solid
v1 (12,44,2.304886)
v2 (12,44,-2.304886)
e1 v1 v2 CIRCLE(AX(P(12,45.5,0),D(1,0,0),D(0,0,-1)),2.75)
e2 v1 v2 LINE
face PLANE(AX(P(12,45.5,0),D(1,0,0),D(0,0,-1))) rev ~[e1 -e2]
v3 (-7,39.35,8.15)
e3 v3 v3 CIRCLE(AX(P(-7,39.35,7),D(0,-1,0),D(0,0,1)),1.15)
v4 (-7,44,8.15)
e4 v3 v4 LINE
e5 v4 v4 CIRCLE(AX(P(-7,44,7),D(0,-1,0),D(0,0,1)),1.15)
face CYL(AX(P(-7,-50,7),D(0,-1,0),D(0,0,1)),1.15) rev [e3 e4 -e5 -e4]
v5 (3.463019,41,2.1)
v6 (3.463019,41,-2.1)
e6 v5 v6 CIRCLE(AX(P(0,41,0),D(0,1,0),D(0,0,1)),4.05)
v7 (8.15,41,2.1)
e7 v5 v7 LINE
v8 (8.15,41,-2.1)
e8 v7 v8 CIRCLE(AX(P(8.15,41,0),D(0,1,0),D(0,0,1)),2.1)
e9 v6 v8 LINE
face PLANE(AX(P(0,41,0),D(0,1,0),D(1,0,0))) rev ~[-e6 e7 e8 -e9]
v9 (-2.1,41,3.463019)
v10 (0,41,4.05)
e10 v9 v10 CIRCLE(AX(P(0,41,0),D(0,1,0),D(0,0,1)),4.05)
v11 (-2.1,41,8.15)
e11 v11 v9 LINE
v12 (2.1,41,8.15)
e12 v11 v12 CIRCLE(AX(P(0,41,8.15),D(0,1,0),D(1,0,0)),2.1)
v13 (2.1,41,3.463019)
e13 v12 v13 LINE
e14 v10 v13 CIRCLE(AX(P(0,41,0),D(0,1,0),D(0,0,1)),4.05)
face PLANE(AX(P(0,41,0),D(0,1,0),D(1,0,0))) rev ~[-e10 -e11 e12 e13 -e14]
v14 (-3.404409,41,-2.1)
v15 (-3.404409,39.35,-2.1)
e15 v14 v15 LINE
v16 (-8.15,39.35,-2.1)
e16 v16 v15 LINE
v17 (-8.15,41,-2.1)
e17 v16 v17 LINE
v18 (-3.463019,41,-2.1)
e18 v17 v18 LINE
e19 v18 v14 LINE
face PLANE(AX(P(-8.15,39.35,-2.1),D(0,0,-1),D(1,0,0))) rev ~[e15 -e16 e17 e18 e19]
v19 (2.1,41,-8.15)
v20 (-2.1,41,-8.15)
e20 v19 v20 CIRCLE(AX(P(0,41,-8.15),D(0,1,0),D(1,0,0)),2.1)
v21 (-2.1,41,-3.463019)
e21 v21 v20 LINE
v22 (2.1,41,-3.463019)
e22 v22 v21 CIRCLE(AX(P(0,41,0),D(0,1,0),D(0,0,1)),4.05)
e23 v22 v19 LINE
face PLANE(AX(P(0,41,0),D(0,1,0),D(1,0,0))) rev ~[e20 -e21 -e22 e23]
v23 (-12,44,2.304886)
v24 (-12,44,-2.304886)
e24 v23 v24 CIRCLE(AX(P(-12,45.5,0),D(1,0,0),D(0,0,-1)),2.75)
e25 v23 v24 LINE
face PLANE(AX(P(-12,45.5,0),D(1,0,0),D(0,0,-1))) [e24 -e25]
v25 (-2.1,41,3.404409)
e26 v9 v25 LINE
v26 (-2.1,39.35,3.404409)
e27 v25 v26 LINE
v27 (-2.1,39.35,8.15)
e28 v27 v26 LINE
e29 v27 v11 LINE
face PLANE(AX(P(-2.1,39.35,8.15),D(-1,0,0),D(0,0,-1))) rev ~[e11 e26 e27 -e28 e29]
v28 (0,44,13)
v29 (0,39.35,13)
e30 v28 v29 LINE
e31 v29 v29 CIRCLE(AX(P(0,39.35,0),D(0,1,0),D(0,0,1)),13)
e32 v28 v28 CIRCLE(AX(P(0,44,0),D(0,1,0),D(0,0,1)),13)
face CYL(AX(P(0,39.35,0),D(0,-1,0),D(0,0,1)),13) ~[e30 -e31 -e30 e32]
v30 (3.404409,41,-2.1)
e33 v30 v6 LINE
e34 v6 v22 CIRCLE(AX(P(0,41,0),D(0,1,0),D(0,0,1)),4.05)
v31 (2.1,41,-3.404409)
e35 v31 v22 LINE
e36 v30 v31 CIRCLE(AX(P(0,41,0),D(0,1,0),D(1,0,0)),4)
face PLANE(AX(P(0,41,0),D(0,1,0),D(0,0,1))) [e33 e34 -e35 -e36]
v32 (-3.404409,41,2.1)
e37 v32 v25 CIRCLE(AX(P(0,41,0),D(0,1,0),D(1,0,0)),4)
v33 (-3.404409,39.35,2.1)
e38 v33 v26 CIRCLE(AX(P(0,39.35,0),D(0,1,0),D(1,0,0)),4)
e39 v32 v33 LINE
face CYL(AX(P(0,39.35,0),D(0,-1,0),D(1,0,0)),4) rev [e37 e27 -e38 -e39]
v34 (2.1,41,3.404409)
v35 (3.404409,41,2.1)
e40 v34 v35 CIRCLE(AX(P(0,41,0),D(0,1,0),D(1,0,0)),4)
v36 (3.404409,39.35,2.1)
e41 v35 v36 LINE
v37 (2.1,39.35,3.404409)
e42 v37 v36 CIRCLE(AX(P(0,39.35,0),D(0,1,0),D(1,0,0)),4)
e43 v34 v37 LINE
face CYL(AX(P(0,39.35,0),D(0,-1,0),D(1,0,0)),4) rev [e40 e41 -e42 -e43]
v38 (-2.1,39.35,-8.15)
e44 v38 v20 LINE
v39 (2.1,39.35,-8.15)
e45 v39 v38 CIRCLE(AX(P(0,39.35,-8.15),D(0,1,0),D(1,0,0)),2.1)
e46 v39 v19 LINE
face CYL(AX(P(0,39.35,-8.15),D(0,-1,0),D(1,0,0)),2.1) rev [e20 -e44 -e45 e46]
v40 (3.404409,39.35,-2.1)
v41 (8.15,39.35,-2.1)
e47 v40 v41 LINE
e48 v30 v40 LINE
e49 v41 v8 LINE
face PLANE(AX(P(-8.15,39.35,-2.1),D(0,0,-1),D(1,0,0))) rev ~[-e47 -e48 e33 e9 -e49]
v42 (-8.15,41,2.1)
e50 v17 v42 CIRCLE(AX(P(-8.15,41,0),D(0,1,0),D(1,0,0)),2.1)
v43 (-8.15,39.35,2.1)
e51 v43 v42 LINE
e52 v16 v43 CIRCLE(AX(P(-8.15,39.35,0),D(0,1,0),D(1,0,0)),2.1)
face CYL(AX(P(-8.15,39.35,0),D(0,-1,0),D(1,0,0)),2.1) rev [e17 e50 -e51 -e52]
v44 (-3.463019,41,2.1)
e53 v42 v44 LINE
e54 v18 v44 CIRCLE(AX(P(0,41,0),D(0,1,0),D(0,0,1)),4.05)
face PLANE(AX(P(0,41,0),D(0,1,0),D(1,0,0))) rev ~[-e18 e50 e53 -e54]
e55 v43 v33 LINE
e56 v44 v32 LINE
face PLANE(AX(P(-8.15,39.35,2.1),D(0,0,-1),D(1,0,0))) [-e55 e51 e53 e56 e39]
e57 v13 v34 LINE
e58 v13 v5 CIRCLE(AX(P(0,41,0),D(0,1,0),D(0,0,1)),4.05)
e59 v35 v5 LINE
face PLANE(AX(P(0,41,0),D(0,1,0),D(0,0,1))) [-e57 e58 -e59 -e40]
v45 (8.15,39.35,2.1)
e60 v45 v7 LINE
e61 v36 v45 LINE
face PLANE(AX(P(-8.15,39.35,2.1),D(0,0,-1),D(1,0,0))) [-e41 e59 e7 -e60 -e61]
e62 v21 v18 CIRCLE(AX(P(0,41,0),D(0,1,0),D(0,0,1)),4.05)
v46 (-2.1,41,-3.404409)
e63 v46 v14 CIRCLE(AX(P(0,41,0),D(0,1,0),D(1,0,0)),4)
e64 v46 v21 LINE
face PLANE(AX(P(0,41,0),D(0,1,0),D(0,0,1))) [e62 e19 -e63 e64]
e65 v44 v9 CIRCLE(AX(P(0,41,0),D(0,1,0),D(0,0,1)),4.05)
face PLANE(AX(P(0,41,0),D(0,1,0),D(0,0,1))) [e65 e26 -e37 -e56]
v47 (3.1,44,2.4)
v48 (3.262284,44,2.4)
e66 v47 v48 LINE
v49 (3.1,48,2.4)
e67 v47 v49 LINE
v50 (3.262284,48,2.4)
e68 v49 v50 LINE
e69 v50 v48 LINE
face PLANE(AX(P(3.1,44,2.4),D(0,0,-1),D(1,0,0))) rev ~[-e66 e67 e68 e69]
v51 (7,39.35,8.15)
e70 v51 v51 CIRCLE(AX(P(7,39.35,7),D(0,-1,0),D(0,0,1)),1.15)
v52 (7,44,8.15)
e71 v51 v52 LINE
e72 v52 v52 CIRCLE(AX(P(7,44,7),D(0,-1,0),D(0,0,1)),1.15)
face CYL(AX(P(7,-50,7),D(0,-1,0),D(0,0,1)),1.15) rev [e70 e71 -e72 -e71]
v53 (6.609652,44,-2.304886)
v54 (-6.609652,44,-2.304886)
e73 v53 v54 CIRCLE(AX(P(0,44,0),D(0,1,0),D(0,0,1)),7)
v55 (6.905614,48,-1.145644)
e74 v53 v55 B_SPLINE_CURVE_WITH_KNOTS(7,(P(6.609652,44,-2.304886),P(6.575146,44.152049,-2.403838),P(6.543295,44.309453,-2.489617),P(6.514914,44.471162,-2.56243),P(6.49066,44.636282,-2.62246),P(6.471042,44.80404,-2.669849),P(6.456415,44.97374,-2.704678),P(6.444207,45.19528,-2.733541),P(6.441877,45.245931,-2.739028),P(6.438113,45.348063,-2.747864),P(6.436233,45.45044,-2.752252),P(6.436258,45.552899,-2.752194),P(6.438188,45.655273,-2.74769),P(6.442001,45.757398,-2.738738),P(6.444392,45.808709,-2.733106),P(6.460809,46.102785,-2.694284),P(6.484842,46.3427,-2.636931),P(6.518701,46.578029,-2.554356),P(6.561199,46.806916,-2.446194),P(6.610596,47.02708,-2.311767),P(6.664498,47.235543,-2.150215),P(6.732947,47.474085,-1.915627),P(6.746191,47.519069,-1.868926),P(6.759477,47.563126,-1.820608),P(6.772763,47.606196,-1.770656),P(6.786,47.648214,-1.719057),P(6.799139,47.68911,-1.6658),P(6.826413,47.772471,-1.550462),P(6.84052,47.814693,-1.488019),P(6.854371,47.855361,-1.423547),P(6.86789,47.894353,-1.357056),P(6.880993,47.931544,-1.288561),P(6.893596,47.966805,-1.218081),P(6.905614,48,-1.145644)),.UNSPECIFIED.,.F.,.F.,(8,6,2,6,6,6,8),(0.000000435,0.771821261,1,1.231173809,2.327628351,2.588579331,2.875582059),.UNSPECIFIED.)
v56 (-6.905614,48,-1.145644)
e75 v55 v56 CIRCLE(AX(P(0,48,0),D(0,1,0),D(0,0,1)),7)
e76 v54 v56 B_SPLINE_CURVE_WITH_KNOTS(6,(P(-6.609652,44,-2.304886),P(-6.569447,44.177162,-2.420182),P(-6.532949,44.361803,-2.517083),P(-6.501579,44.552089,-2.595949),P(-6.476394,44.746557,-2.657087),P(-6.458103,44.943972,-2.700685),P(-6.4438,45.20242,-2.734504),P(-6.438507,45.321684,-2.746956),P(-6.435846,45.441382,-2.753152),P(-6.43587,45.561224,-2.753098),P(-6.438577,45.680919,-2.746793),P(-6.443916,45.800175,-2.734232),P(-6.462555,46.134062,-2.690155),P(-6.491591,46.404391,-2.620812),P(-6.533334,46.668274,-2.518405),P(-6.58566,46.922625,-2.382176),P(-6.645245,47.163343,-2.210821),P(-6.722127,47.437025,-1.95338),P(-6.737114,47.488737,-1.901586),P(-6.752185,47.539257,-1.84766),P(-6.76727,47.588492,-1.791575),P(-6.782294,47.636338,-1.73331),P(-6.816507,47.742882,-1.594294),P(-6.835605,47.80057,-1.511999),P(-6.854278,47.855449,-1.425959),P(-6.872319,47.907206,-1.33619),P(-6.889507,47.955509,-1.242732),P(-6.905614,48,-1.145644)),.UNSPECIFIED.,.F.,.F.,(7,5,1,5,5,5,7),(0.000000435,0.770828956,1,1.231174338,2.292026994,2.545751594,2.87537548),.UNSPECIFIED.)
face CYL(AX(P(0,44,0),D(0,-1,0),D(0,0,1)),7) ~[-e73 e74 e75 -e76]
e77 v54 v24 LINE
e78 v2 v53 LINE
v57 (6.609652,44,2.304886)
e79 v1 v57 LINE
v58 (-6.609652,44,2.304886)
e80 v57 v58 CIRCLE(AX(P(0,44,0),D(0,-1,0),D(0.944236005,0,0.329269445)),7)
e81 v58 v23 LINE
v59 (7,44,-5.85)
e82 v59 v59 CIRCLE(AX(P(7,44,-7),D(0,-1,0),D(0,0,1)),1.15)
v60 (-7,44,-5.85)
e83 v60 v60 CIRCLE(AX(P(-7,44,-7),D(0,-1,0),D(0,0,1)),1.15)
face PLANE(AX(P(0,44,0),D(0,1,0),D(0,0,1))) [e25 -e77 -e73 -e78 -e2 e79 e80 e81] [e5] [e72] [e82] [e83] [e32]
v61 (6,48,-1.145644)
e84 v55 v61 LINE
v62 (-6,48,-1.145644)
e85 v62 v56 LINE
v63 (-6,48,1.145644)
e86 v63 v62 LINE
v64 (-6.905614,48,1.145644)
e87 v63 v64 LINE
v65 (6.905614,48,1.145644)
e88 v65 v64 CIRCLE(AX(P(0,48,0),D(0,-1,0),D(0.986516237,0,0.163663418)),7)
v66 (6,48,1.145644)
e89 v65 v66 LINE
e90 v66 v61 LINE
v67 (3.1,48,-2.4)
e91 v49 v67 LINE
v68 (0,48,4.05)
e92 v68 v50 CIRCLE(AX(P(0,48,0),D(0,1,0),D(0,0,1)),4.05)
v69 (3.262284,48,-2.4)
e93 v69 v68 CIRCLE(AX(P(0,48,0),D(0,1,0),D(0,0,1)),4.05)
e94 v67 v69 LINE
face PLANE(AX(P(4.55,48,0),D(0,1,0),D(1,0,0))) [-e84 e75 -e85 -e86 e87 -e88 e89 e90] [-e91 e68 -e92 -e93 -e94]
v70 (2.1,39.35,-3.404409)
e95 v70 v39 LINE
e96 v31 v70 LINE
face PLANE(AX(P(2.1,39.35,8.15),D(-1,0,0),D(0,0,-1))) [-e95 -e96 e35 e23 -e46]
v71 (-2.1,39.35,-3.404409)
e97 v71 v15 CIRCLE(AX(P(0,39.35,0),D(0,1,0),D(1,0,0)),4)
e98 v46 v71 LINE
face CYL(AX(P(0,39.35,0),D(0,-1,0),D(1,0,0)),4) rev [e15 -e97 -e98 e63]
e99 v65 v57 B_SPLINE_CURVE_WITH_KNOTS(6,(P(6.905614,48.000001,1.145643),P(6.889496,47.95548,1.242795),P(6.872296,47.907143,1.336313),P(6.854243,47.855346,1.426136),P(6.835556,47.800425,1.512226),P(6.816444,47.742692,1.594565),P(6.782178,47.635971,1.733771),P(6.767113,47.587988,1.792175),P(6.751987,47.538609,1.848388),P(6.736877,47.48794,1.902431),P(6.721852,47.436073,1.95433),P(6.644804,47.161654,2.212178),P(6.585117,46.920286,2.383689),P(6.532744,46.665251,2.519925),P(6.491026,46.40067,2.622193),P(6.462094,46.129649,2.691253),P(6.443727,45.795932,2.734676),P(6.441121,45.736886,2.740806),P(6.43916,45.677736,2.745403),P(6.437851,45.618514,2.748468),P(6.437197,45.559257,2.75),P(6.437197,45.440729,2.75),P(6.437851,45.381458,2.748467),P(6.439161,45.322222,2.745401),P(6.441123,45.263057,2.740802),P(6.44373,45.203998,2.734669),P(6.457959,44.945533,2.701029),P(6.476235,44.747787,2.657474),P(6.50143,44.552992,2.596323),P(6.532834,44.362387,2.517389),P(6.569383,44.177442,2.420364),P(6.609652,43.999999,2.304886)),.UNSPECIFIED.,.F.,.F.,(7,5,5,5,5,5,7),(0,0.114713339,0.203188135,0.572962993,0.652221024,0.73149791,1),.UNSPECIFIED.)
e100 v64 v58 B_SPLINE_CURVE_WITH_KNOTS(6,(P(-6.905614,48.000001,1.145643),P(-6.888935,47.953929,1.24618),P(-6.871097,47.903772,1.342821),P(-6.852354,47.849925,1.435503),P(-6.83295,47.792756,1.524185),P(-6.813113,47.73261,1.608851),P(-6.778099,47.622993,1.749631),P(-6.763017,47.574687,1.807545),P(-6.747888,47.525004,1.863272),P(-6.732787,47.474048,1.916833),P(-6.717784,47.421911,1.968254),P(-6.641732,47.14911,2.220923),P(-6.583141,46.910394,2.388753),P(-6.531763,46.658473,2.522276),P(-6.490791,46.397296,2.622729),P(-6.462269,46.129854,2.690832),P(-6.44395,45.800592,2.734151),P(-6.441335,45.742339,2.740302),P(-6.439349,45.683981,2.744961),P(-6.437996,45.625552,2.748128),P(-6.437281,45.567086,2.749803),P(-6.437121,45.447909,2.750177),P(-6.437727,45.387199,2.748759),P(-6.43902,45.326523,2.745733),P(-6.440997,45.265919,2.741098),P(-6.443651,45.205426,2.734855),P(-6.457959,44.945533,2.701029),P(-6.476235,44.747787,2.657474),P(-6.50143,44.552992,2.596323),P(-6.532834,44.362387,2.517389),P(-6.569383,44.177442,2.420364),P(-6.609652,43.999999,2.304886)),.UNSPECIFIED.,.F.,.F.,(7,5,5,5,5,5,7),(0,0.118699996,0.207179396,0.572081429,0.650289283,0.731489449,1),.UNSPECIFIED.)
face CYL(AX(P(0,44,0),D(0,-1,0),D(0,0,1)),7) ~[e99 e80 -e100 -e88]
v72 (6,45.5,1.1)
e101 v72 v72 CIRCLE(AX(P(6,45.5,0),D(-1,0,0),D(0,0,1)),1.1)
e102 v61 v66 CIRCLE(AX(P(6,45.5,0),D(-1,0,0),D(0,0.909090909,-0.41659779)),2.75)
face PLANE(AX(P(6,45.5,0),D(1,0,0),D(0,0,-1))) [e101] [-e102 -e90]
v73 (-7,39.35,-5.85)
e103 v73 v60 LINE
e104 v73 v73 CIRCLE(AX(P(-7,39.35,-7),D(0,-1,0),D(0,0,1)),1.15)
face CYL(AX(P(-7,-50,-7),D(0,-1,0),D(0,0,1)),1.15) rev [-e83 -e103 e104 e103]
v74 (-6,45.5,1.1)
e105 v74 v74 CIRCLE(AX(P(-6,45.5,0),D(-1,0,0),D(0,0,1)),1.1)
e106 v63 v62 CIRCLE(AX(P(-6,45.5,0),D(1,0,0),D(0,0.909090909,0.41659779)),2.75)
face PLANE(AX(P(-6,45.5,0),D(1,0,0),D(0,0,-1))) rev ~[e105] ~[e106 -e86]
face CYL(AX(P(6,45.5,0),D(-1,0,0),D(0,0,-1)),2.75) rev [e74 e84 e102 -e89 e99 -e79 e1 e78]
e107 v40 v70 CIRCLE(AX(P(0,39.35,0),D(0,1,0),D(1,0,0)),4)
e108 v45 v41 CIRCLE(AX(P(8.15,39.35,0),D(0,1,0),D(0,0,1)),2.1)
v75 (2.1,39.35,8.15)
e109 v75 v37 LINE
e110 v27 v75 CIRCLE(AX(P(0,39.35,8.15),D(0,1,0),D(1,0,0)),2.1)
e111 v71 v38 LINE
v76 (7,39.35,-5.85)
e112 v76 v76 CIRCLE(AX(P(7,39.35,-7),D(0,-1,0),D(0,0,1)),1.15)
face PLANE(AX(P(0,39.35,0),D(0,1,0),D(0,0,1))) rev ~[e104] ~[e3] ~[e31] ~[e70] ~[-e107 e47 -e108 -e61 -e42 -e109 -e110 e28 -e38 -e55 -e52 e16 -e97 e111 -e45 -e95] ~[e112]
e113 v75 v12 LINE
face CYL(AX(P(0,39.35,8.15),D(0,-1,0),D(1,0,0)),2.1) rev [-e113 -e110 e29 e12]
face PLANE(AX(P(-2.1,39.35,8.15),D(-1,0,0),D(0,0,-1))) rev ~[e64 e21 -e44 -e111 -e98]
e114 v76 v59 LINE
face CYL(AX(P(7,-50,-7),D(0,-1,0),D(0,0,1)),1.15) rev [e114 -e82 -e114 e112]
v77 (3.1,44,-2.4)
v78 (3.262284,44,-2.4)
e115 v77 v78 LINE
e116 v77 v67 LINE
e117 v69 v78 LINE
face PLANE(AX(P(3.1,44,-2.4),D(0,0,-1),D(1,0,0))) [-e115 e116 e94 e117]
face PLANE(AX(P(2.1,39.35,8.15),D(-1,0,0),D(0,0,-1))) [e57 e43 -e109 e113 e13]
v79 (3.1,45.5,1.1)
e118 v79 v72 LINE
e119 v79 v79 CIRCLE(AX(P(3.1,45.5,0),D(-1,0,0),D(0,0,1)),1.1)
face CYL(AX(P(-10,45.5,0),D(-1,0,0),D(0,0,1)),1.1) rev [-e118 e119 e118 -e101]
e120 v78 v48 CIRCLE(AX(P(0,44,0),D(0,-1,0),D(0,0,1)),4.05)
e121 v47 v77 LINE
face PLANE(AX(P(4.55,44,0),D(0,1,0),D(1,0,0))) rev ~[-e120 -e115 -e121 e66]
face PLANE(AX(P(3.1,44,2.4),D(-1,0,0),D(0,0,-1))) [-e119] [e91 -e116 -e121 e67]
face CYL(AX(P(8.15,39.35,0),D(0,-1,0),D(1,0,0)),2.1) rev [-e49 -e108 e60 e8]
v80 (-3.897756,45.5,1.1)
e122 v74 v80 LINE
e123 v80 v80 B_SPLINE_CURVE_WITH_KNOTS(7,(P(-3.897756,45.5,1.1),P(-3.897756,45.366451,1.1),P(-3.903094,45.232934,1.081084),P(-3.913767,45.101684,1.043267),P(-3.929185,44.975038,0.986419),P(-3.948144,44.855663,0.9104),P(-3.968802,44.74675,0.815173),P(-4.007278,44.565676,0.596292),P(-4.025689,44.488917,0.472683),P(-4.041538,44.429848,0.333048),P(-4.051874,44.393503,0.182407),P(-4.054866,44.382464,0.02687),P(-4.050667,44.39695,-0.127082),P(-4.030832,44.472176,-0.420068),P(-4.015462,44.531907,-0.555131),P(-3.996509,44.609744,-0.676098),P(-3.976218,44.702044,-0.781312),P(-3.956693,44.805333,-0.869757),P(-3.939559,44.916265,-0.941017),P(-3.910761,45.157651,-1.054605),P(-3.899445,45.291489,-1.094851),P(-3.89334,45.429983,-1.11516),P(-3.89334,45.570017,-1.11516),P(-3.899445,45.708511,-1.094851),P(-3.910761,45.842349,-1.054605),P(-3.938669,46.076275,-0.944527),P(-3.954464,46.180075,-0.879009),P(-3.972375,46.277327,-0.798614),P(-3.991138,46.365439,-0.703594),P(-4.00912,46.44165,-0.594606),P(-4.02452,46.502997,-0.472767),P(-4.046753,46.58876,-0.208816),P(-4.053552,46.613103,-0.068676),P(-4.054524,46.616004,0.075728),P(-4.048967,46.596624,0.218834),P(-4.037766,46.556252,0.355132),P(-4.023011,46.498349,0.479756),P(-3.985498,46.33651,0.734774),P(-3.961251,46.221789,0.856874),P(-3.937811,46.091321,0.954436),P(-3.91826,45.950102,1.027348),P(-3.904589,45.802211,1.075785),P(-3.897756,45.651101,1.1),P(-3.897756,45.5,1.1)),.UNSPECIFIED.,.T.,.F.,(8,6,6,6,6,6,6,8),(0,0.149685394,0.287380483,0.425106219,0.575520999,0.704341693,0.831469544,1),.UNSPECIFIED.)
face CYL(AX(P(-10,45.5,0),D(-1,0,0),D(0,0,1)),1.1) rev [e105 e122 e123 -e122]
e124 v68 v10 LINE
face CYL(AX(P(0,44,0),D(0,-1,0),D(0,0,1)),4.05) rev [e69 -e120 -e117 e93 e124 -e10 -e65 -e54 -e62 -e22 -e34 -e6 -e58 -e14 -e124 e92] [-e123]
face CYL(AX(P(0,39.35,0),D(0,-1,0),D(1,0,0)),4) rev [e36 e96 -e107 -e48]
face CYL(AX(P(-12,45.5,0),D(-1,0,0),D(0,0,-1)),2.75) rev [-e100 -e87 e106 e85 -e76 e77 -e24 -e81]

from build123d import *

# Parameters (mm, degrees)
STOCK_HORN_DRIVE_FLANGE_START              = 41
STOCK_HORN_DRIVE_FLANGE_PROFILE_R          = 13
STOCK_HORN_DRIVE_FLANGE_PROFILE_R_2        = 4.05
STOCK_HORN_DRIVE_FLANGE_DEPTH              = 3
D_COUPLING_RING_START                      = 44
D_COUPLING_RING_PROFILE_R                  = 7
D_COUPLING_RING_PROFILE_R_2                = 4.05
D_COUPLING_RING_DEPTH                      = 4
D_KEY_LAND_START                           = 44
D_KEY_LAND_PROFILE_W                       = 2.9
D_KEY_LAND_PROFILE_H                       = 4.8
D_KEY_LAND_DEPTH                           = 4
CAPTURED_HORN_KEY_BOSS_START               = 39.35
CAPTURED_HORN_KEY_BOSS_PROFILE_R           = 13
CAPTURED_HORN_KEY_BOSS_DEPTH               = 1.65
KEY_POCKET_HUB_START                       = 39.35
STOCK_HORN_POCKET_HUB_R                    = 3.55
KEY_POCKET_HUB_DEPTH                       = 1.65
KEY_POCKET_HORIZONTAL_START                = 39.35
STOCK_HORN_POCKET_HORIZONTAL_W             = 16.3
STOCK_HORN_POCKET_HORIZONTAL_H             = 4.2
KEY_POCKET_HORIZONTAL_DEPTH                = 1.65
KEY_POCKET_VERTICAL_START                  = 39.35
STOCK_HORN_POCKET_VERTICAL_W               = 4.2
STOCK_HORN_POCKET_VERTICAL_H               = 16.3
KEY_POCKET_VERTICAL_DEPTH                  = 1.65
KEY_POCKET_ROUNDED_TIPS_START              = 39.35
STOCK_HORN_POCKET_ROUNDED_TIPS_R           = 2.1
KEY_POCKET_ROUNDED_TIPS_DEPTH              = 1.65
UNMODIFIED_HORN_CAPTURE_M2_START           = -50
UNMODIFIED_HORN_CAPTURE_M2_PROFILE_R       = 1.15
UNMODIFIED_HORN_CAPTURE_M2_DEPTH           = 102.400389104
HUB_CLEARANCE_IN_KEY_BOSS_ONLY_START       = 39.35
HORN_CENTER_HUB_CLEARANCE_R                = 4
HUB_CLEARANCE_IN_KEY_BOSS_ONLY_DEPTH       = 1.65
YAW_POSITIVE_RETENTION_CROSSBOLT_START     = -10
YAW_POSITIVE_RETENTION_CROSSBOLT_PROFILE_R = 1.1
YAW_POSITIVE_RETENTION_CROSSBOLT_DEPTH     = 62.400389104
CROSSBOLT_FLAT_SEAT_CUT_12_START           = -12
CROSSBOLT_FLAT_SEAT_12_R                   = 2.75
CROSSBOLT_FLAT_SEAT_CUT_12_DEPTH           = 6
CROSSBOLT_FLAT_SEAT_CUT_6_START            = 6
CROSSBOLT_FLAT_SEAT_6_R                    = 2.75
CROSSBOLT_FLAT_SEAT_CUT_6_DEPTH            = 6


with BuildPart() as part:
    # Stock_horn_drive_flange_profile → Stock_horn_drive_flange (new body)
    with BuildSketch(Plane(origin=(0, 0, 0), x_dir=(1, 0, 0), z_dir=(0, 1, 0)).offset(STOCK_HORN_DRIVE_FLANGE_START)):
        with Locations(Location((0, 0, 0), (0, 0, 270))):
            Circle(STOCK_HORN_DRIVE_FLANGE_PROFILE_R)
        with Locations(Location((0, 0, 0), (0, 0, 270))):
            Circle(STOCK_HORN_DRIVE_FLANGE_PROFILE_R_2, mode=Mode.SUBTRACT)
    extrude(amount=STOCK_HORN_DRIVE_FLANGE_DEPTH)

    # D_coupling_ring_profile → D_coupling_ring (add)
    with BuildSketch(Plane(origin=(0, 0, 0), x_dir=(1, 0, 0), z_dir=(0, 1, 0)).offset(D_COUPLING_RING_START)):
        with Locations(Location((0, 0, 0), (0, 0, 270))):
            Circle(D_COUPLING_RING_PROFILE_R)
        with Locations(Location((0, 0, 0), (0, 0, 270))):
            Circle(D_COUPLING_RING_PROFILE_R_2, mode=Mode.SUBTRACT)
    extrude(amount=D_COUPLING_RING_DEPTH)

    # D_key_land_profile → D_key_land (add)
    with BuildSketch(Plane(origin=(0, 0, 0), x_dir=(1, 0, 0), z_dir=(0, 1, 0)).offset(D_KEY_LAND_START)):
        with Locations((4.55, 0)):
            Rectangle(D_KEY_LAND_PROFILE_W, D_KEY_LAND_PROFILE_H)
    extrude(amount=D_KEY_LAND_DEPTH)

    # Captured_horn_key_boss_profile → Captured_horn_key_boss (add)
    with BuildSketch(Plane(origin=(0, 0, 0), x_dir=(1, 0, 0), z_dir=(0, 1, 0)).offset(CAPTURED_HORN_KEY_BOSS_START)):
        with Locations(Location((0, 0, 0), (0, 0, 270))):
            Circle(CAPTURED_HORN_KEY_BOSS_PROFILE_R)
    extrude(amount=CAPTURED_HORN_KEY_BOSS_DEPTH)

    # Stock_horn_pocket_Hub → Key_pocket_Hub (cut)
    with BuildSketch(Plane(origin=(0, 0, 0), x_dir=(1, 0, 0), z_dir=(0, 1, 0)).offset(KEY_POCKET_HUB_START)):
        with Locations(Location((0, 0, 0), (0, 0, 270))):
            Circle(STOCK_HORN_POCKET_HUB_R)
    extrude(amount=KEY_POCKET_HUB_DEPTH, mode=Mode.SUBTRACT)

    # Stock_horn_pocket_Horizontal → Key_pocket_Horizontal (cut)
    with BuildSketch(Plane(origin=(0, 0, 0), x_dir=(1, 0, 0), z_dir=(0, 1, 0)).offset(KEY_POCKET_HORIZONTAL_START)):
        Rectangle(STOCK_HORN_POCKET_HORIZONTAL_W, STOCK_HORN_POCKET_HORIZONTAL_H)
    extrude(amount=KEY_POCKET_HORIZONTAL_DEPTH, mode=Mode.SUBTRACT)

    # Stock_horn_pocket_Vertical → Key_pocket_Vertical (cut)
    with BuildSketch(Plane(origin=(0, 0, 0), x_dir=(1, 0, 0), z_dir=(0, 1, 0)).offset(KEY_POCKET_VERTICAL_START)):
        Rectangle(STOCK_HORN_POCKET_VERTICAL_W, STOCK_HORN_POCKET_VERTICAL_H)
    extrude(amount=KEY_POCKET_VERTICAL_DEPTH, mode=Mode.SUBTRACT)

    # Stock_horn_pocket_Rounded_tips → Key_pocket_Rounded_tips (cut)
    with BuildSketch(Plane(origin=(0, 0, 0), x_dir=(1, 0, 0), z_dir=(0, 1, 0)).offset(KEY_POCKET_ROUNDED_TIPS_START)):
        with Locations((8.15, 0)):
            Circle(STOCK_HORN_POCKET_ROUNDED_TIPS_R)
        with Locations((-8.15, 0)):
            Circle(STOCK_HORN_POCKET_ROUNDED_TIPS_R)
        with Locations((0, 8.15)):
            Circle(STOCK_HORN_POCKET_ROUNDED_TIPS_R)
        with Locations((0, -8.15)):
            Circle(STOCK_HORN_POCKET_ROUNDED_TIPS_R)
    extrude(amount=KEY_POCKET_ROUNDED_TIPS_DEPTH, mode=Mode.SUBTRACT)

    # Unmodified_horn_capture_M2_profile → Unmodified_horn_capture_M2 (cut, through all)
    with BuildSketch(Plane(origin=(0, 0, 0), x_dir=(1, 0, 0), z_dir=(0, 1, 0)).offset(UNMODIFIED_HORN_CAPTURE_M2_START)):
        with Locations(Location((7, 7, 0), (0, 0, 270))):
            Circle(UNMODIFIED_HORN_CAPTURE_M2_PROFILE_R)
        with Locations(Location((-7, 7, 0), (0, 0, 270))):
            Circle(UNMODIFIED_HORN_CAPTURE_M2_PROFILE_R)
        with Locations(Location((-7, -7, 0), (0, 0, 270))):
            Circle(UNMODIFIED_HORN_CAPTURE_M2_PROFILE_R)
        with Locations(Location((7, -7, 0), (0, 0, 270))):
            Circle(UNMODIFIED_HORN_CAPTURE_M2_PROFILE_R)
    extrude(amount=UNMODIFIED_HORN_CAPTURE_M2_DEPTH, mode=Mode.SUBTRACT)

    # Horn_center_hub_clearance → Hub_clearance_in_key_boss_only (cut)
    with BuildSketch(Plane(origin=(0, 0, 0), x_dir=(1, 0, 0), z_dir=(0, 1, 0)).offset(HUB_CLEARANCE_IN_KEY_BOSS_ONLY_START)):
        Circle(HORN_CENTER_HUB_CLEARANCE_R)
    extrude(amount=HUB_CLEARANCE_IN_KEY_BOSS_ONLY_DEPTH, mode=Mode.SUBTRACT)

    # Yaw_positive_retention_crossbolt_profile → Yaw_positive_retention_crossbolt (cut, through all)
    with BuildSketch(Plane(origin=(0, 0, 0), x_dir=(0, 0, -1), z_dir=(1, 0, 0)).offset(YAW_POSITIVE_RETENTION_CROSSBOLT_START)):
        with Locations(Location((0, 45.5, 0), (0, 0, 180))):
            Circle(YAW_POSITIVE_RETENTION_CROSSBOLT_PROFILE_R)
    extrude(amount=YAW_POSITIVE_RETENTION_CROSSBOLT_DEPTH, mode=Mode.SUBTRACT)

    # Crossbolt_flat_seat_-12 → Crossbolt_flat_seat_cut_-12 (cut)
    with BuildSketch(Plane(origin=(0, 0, 0), x_dir=(0, 0, -1), z_dir=(1, 0, 0)).offset(CROSSBOLT_FLAT_SEAT_CUT_12_START)):
        with Locations((0, 45.5)):
            Circle(CROSSBOLT_FLAT_SEAT_12_R)
    extrude(amount=CROSSBOLT_FLAT_SEAT_CUT_12_DEPTH, mode=Mode.SUBTRACT)

    # Crossbolt_flat_seat_6 → Crossbolt_flat_seat_cut_6 (cut)
    with BuildSketch(Plane(origin=(0, 0, 0), x_dir=(0, 0, -1), z_dir=(1, 0, 0)).offset(CROSSBOLT_FLAT_SEAT_CUT_6_START)):
        with Locations((0, 45.5)):
            Circle(CROSSBOLT_FLAT_SEAT_6_R)
    extrude(amount=CROSSBOLT_FLAT_SEAT_CUT_6_DEPTH, mode=Mode.SUBTRACT)


solid = part.part
